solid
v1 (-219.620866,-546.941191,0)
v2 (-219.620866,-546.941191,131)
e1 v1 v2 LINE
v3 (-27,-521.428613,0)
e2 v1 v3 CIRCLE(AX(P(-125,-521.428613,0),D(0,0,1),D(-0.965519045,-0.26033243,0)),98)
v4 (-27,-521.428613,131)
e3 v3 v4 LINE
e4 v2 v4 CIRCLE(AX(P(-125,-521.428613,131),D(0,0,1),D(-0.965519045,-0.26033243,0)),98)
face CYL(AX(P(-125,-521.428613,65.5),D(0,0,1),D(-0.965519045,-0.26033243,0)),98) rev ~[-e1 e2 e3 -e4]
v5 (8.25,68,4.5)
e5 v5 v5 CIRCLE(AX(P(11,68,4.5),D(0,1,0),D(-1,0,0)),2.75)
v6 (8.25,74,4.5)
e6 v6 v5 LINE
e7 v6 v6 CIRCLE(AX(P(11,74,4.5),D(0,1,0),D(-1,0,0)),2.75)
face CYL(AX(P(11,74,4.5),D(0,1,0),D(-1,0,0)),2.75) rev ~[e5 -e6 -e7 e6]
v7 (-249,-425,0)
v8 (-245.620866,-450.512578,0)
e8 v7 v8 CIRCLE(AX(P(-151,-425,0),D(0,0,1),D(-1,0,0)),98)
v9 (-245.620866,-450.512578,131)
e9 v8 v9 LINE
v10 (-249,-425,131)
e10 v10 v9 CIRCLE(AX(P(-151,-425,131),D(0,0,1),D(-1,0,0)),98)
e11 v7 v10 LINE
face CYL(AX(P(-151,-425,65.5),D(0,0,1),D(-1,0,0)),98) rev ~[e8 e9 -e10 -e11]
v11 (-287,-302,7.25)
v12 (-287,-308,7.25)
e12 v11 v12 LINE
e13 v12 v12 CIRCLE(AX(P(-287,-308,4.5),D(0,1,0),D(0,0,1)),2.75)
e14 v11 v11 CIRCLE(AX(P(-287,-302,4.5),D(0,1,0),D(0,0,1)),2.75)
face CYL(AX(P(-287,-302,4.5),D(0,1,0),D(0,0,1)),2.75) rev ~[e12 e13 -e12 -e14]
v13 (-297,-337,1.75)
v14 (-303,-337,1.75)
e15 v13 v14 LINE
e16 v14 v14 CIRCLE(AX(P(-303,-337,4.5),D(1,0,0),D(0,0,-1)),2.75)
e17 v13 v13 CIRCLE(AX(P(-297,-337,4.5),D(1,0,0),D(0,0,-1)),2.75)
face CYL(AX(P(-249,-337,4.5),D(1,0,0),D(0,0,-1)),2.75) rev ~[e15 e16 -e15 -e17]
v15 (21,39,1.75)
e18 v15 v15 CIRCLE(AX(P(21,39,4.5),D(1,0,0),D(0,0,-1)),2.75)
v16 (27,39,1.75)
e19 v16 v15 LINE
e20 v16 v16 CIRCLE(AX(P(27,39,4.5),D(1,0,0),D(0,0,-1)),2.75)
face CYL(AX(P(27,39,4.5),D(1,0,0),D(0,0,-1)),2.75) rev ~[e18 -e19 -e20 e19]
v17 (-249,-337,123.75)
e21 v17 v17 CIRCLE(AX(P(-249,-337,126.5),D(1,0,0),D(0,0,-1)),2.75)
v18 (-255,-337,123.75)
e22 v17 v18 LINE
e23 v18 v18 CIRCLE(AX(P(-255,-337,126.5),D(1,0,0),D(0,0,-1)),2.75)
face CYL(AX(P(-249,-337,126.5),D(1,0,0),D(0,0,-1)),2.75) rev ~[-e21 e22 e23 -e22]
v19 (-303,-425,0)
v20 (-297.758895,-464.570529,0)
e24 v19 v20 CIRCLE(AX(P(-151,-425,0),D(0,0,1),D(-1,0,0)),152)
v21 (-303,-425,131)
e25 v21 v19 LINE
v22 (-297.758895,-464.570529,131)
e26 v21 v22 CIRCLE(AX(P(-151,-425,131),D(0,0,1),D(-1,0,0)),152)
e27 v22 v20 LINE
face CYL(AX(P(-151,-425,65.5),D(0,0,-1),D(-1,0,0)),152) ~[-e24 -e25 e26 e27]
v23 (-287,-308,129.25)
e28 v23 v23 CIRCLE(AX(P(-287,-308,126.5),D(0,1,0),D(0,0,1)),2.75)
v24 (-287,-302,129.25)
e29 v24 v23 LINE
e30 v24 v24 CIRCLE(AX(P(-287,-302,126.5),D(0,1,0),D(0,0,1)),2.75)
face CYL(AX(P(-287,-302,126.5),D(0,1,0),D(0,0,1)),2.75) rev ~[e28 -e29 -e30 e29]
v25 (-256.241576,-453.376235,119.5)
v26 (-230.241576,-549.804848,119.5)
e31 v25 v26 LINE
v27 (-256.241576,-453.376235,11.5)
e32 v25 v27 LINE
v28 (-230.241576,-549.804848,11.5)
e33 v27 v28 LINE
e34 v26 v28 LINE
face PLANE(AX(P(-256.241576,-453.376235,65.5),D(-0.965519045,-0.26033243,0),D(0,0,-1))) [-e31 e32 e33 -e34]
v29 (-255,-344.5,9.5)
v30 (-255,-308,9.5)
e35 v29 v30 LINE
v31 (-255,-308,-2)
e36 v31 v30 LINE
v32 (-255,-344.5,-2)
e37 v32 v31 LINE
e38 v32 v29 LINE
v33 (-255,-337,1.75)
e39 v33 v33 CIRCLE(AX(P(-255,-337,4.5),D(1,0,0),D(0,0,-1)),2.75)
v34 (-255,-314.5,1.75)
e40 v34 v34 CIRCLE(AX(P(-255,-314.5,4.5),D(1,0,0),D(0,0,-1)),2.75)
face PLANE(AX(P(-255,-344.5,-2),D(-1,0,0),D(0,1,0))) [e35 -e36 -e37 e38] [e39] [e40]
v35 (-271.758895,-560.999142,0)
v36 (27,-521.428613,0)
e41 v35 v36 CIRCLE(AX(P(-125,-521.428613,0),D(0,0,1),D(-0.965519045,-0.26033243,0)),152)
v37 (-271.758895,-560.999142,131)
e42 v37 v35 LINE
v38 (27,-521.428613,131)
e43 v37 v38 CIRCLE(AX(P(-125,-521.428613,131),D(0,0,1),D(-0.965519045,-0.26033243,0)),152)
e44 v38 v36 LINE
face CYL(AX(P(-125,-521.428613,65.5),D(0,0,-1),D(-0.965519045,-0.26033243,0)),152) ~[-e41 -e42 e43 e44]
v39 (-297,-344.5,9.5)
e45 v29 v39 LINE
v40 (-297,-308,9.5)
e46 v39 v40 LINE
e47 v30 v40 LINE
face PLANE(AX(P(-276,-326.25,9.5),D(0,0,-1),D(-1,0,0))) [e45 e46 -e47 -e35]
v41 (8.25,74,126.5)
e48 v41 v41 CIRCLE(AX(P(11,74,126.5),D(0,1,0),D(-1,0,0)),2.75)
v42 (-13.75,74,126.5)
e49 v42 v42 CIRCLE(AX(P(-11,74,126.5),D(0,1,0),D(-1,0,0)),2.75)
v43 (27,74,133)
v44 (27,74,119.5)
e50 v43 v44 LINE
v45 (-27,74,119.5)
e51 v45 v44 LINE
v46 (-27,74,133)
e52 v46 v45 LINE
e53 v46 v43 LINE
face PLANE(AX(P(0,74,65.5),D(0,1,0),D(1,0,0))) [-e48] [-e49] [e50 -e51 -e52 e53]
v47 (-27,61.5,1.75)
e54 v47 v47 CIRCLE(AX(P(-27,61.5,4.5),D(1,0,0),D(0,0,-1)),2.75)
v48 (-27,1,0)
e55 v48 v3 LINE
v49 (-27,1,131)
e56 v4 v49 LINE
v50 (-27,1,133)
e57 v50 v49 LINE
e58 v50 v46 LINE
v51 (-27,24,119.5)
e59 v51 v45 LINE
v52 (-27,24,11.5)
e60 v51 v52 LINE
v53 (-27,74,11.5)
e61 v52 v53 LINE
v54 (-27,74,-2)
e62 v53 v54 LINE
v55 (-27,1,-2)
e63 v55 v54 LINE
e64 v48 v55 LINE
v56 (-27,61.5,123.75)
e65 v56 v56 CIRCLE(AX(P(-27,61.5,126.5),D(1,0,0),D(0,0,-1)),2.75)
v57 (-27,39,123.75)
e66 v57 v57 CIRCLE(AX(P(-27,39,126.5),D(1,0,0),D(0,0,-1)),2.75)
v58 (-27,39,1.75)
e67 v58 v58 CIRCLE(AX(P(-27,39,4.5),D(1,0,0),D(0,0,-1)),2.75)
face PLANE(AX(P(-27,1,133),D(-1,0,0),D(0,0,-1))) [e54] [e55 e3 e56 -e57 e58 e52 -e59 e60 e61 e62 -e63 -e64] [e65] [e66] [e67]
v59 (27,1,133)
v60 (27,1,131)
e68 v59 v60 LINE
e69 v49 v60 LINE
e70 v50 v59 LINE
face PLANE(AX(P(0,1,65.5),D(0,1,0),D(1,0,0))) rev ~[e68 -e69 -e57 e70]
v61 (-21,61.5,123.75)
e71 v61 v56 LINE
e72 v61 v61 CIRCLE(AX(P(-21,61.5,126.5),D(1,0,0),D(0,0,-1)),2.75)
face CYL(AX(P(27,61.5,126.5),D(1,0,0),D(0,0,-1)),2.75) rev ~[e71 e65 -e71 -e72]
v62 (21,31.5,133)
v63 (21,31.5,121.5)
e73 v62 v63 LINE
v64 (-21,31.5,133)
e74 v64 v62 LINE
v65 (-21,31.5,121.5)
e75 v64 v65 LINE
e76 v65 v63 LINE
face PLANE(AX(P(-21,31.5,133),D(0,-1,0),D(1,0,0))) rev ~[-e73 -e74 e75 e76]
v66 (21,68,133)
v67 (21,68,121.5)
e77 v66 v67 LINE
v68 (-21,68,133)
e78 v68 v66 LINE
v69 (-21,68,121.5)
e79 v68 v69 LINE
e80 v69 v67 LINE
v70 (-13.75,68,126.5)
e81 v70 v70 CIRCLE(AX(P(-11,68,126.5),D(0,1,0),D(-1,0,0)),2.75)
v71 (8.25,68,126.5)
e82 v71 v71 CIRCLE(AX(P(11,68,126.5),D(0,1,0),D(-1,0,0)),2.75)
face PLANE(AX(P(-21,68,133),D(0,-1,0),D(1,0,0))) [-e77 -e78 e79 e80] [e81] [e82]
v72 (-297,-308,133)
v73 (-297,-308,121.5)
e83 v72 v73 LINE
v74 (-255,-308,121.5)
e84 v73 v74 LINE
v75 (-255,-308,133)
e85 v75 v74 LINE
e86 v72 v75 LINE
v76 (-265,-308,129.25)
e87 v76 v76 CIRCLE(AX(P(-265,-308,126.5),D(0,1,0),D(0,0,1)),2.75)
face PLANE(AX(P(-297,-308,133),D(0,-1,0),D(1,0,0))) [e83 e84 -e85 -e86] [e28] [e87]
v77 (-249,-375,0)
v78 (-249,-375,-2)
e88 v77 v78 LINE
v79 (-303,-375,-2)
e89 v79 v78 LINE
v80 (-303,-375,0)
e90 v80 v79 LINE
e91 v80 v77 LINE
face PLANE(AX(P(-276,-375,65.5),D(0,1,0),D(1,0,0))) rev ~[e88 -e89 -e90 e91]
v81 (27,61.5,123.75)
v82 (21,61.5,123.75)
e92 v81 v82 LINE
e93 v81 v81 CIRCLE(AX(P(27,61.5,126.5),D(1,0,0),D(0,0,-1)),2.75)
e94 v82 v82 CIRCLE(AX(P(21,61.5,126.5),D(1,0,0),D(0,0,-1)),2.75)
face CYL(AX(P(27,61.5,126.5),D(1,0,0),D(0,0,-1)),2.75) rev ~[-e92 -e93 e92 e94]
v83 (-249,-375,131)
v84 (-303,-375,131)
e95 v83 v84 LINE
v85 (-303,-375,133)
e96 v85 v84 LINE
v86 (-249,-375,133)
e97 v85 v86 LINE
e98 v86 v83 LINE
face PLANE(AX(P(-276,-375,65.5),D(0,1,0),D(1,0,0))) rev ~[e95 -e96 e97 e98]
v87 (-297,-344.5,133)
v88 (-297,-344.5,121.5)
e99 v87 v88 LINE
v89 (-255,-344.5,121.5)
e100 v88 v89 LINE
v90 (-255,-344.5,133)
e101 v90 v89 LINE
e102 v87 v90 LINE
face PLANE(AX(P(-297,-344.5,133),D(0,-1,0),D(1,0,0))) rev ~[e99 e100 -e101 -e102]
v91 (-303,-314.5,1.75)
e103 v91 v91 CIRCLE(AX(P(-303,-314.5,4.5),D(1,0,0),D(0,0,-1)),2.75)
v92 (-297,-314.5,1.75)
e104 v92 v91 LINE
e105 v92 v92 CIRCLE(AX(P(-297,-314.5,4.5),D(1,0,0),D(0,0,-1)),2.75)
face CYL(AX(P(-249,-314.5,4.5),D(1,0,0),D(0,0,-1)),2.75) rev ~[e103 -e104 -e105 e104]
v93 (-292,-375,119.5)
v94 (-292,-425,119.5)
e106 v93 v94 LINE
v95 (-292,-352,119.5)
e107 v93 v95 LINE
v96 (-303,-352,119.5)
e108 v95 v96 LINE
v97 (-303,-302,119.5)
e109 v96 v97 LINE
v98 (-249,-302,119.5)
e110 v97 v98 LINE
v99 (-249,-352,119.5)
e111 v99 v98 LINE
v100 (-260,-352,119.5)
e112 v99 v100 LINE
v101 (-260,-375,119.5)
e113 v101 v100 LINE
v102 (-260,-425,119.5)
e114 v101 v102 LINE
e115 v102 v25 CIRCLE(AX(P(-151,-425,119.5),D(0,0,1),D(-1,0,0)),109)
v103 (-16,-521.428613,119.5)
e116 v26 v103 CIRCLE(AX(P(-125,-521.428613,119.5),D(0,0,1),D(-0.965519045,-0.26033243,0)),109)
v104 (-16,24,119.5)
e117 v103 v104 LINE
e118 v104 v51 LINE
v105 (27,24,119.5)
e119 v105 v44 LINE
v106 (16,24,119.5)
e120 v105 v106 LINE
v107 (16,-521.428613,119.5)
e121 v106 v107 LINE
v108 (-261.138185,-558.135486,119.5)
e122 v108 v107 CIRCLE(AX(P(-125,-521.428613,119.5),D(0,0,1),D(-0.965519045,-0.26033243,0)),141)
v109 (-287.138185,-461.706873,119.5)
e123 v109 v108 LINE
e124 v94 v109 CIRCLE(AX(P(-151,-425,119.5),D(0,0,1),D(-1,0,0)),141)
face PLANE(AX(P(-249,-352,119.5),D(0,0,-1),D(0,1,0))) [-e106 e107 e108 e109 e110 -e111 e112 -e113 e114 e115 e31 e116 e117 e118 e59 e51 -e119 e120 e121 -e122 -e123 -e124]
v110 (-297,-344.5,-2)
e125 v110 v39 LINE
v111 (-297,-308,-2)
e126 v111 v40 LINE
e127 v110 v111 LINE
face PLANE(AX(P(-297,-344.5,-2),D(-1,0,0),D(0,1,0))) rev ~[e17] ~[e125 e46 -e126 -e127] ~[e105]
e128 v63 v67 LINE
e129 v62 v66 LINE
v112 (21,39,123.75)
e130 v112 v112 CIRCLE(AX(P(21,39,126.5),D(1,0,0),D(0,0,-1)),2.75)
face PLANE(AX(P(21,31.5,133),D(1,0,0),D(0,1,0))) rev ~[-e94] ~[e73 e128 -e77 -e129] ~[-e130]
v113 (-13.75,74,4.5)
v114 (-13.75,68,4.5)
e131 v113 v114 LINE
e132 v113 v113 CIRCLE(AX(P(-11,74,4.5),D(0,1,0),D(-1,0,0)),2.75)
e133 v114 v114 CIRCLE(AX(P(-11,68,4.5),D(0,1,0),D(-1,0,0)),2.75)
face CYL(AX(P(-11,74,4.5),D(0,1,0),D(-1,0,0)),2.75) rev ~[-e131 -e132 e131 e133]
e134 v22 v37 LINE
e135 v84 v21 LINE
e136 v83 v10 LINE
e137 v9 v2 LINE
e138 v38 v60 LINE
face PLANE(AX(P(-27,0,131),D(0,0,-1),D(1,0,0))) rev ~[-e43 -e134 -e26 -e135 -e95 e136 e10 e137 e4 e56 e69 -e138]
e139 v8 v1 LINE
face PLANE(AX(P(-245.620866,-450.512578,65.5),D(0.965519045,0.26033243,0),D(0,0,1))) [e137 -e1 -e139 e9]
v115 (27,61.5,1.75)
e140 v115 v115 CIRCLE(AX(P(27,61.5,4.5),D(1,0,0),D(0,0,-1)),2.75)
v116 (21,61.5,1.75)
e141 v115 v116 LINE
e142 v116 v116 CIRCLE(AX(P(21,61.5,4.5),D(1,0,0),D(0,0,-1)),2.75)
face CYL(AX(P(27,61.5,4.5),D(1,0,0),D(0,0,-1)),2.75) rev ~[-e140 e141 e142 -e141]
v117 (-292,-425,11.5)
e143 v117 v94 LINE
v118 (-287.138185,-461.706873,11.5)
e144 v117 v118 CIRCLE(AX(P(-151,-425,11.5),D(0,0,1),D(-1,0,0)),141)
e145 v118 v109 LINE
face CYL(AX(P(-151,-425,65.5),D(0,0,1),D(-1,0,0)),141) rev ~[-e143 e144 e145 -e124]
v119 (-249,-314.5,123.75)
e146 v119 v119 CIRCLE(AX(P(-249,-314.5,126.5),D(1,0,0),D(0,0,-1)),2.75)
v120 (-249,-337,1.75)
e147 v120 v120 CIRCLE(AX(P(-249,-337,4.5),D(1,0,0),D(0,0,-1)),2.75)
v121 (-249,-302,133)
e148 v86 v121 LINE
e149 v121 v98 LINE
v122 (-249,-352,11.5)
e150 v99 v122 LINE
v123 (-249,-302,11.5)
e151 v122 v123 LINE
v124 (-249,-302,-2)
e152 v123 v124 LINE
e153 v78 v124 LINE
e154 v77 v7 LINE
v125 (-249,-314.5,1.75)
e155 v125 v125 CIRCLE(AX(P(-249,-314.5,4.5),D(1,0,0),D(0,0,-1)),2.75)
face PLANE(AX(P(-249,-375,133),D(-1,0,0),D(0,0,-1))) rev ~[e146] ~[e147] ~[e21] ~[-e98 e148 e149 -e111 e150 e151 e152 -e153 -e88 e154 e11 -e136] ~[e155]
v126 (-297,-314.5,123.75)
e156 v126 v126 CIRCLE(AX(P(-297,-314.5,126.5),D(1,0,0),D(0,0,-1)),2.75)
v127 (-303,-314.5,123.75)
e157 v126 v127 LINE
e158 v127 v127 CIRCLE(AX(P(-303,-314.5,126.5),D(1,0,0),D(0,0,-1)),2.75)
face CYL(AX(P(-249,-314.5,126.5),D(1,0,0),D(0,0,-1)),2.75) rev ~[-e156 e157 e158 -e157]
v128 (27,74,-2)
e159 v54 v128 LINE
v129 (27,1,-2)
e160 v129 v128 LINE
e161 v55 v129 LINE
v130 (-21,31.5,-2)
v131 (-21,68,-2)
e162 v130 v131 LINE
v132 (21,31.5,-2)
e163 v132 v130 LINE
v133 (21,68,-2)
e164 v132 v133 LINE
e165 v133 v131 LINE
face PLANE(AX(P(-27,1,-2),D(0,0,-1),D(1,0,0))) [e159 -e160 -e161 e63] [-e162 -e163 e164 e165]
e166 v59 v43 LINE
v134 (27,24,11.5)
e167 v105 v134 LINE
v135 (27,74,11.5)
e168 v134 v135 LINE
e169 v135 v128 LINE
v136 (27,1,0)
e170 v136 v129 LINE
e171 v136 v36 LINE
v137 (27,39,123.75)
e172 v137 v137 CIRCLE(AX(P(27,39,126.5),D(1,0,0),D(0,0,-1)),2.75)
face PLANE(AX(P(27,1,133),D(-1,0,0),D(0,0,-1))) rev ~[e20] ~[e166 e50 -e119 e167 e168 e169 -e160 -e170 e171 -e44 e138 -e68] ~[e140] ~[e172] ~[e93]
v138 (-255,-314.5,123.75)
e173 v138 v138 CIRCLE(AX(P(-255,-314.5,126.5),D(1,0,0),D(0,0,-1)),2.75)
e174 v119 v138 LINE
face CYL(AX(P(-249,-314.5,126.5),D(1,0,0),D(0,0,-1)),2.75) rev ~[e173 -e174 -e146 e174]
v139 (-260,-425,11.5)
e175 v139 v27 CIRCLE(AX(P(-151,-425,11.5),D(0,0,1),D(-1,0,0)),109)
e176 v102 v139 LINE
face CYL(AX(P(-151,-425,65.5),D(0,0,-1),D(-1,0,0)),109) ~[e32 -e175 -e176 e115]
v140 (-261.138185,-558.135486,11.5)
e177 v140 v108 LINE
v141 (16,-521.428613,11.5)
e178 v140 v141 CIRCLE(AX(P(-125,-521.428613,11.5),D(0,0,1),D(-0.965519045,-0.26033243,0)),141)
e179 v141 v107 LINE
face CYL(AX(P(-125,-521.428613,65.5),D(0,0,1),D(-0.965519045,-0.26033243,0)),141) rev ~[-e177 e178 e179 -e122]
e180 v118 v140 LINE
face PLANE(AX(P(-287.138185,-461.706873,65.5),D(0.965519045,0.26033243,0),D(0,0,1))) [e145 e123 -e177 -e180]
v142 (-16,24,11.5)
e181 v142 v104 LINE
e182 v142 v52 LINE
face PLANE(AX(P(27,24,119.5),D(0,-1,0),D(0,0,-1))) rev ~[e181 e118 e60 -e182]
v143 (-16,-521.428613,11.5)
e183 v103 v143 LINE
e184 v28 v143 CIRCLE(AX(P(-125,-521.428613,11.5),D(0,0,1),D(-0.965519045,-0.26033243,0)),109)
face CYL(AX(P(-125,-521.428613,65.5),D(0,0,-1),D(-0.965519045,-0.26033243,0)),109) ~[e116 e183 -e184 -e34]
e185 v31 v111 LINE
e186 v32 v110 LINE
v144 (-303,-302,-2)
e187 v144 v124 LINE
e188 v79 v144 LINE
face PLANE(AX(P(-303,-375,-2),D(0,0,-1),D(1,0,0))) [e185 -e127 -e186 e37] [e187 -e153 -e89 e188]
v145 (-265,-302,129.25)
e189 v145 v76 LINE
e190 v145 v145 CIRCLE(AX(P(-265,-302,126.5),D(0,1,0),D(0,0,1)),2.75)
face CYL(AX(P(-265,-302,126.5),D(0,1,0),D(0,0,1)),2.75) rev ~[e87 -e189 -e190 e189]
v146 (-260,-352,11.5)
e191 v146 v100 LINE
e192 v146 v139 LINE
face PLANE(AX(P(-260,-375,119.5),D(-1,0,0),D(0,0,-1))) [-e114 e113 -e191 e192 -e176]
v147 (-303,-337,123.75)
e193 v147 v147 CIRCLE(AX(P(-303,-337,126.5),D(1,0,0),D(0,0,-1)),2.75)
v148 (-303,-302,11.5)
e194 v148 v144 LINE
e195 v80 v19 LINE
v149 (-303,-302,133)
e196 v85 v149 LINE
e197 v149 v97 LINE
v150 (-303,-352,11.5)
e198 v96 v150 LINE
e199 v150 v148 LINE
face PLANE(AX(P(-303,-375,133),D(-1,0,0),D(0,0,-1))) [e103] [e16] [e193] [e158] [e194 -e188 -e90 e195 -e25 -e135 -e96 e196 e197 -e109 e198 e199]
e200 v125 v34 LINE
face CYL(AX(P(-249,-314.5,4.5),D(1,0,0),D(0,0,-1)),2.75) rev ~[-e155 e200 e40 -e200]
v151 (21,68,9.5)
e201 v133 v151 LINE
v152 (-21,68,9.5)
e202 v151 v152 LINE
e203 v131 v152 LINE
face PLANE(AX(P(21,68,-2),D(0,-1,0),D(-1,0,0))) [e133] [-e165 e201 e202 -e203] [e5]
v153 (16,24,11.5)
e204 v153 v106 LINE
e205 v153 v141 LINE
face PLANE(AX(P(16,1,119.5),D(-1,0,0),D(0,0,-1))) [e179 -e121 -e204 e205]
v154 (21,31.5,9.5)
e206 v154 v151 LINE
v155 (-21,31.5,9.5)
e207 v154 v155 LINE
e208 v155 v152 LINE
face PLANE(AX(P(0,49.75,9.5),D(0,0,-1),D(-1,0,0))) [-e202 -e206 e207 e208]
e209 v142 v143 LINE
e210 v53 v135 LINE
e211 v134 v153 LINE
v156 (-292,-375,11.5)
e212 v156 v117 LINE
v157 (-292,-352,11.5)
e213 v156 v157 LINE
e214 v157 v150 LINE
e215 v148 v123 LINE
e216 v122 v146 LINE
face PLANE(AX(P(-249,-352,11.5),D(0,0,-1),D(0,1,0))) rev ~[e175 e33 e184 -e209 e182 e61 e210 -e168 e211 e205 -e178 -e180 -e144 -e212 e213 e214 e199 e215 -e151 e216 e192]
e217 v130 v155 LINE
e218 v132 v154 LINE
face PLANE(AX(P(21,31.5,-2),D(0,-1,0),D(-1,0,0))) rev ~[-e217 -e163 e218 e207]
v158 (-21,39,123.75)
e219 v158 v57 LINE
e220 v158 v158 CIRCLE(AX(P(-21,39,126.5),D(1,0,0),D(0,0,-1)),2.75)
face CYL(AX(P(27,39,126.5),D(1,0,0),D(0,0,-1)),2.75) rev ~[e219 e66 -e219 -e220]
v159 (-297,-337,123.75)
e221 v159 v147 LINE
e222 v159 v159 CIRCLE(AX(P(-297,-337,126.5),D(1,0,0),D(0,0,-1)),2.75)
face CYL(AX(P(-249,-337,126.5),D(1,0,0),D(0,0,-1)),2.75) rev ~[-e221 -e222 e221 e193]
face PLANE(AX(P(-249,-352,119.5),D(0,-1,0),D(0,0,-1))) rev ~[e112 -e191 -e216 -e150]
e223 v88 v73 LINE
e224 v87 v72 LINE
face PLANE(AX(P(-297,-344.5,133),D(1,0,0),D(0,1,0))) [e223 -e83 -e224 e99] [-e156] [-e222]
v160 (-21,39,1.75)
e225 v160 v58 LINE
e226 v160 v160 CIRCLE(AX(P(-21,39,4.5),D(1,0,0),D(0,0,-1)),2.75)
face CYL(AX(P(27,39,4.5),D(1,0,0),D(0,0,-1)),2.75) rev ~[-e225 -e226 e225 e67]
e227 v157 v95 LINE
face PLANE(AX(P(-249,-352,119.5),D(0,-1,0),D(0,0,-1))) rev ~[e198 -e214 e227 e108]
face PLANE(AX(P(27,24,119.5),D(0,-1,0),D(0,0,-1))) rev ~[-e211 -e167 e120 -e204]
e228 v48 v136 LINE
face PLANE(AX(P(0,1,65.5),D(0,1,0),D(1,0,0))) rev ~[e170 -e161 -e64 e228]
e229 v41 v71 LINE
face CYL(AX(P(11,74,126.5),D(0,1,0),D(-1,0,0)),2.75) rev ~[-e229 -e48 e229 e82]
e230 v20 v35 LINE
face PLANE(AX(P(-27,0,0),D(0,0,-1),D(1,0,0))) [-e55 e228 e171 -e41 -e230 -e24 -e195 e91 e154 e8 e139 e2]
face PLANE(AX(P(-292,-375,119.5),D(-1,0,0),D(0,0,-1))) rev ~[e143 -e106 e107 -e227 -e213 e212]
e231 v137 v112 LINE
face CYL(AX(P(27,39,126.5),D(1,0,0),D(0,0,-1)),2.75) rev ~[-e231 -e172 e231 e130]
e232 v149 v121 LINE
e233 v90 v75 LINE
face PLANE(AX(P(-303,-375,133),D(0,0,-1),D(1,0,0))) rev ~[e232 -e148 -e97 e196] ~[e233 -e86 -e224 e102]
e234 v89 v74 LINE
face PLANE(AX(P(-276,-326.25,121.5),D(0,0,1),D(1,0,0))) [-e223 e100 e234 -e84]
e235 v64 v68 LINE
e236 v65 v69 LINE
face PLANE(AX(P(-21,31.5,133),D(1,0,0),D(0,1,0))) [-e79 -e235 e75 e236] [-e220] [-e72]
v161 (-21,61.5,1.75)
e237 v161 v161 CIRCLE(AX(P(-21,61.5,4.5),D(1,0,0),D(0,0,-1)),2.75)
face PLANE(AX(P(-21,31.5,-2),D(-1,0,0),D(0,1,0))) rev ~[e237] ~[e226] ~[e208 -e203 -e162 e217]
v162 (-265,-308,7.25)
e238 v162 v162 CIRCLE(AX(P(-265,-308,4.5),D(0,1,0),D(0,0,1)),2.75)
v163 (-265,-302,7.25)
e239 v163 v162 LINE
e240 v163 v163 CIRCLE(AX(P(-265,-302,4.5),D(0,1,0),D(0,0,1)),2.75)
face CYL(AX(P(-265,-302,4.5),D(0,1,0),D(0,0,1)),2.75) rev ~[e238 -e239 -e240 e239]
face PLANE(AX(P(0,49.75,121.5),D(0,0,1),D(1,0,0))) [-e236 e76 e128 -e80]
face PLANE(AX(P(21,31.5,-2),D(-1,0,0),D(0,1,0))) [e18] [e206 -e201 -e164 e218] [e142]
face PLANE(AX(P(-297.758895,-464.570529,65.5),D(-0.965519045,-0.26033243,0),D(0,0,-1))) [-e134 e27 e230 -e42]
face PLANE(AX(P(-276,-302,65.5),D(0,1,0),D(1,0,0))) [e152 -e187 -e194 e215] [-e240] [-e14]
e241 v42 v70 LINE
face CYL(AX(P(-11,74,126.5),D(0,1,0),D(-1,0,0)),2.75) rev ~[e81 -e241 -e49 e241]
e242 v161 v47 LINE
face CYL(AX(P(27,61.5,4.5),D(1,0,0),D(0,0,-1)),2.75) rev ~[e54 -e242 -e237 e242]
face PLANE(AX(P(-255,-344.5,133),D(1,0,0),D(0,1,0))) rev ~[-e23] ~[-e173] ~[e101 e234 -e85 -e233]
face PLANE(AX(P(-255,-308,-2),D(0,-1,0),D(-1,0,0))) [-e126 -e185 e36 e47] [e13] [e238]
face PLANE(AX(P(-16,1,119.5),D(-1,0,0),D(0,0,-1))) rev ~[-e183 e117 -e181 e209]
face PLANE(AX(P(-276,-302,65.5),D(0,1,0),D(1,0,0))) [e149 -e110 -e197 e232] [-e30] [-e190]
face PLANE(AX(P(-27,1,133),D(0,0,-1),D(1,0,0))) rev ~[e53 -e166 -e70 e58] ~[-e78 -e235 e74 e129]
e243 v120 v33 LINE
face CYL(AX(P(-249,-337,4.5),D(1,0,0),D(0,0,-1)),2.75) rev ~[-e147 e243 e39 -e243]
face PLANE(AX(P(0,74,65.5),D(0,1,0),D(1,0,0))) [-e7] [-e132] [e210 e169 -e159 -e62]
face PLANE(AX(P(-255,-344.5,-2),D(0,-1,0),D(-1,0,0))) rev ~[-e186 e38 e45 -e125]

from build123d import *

# Parameters (mm, degrees)
SKETCH2_W           = 54
SKETCH2_H           = 131
SKETCH2_W_2         = 32
SKETCH2_H_2         = 108
SKETCH12_W          = 54
SKETCH12_H          = 131
SKETCH12_W_2        = 32
SKETCH12_H_2        = 108
BOSS_EXTRUDE1_DEPTH = 1
SKETCH3_W           = 54
SKETCH3_H           = 135
SKETCH3_W_2         = 32
SKETCH3_H_2         = 108
EXTRUDE1_DEPTH      = 73
EXTRUDE2_REACH      = 763.64
SKETCH4_R           = 2.75
SKETCH4_W           = 108
SKETCH4_H           = 50
SKETCH7_W           = 54
SKETCH7_H           = 135
SKETCH7_W_2         = 32
SKETCH7_H_2         = 108
EXTRUDE5_DEPTH      = 73
EXTRUDE6_REACH      = 741.845
SKETCH8_R           = 2.75
SKETCH8_W           = 108
SKETCH8_H           = 50
SKETCH5_W           = 42
SKETCH5_H           = 36.5
EXTRUDE3_DEPTH      = 11.5
SKETCH6_W           = 42
SKETCH6_H           = 36.5
EXTRUDE4_DEPTH      = 11.5
SKETCH9_R           = 2.75
EXTRUDE7_DEPTH      = 7
SKETCH10_R          = 2.75
EXTRUDE8_DEPTH      = 7


with BuildPart() as part:
    # Sweep1: sweep along a path in Sketch1
    with BuildLine(Plane.XY) as sweep1_path:
        Line((-276, -375), (-276, -425))
        ThreePointArc((-276, -425), (-274.917785393, -441.412874927), (-271.689880586, -457.541553807))
        Line((-271.689880586, -457.541553807), (-245.689880586, -553.970166708))
        ThreePointArc((-245.689880586, -553.970166708), (-108.587125073, -645.346398294), (0, -521.428612901))
        Line((0, -521.428612901), (0, 0))
    # Sketch2 → Sweep1 (sweep)
    with BuildSketch(Plane(origin=(0, 0, 0), x_dir=(1, 0, 0), z_dir=(0, 1, 0))):
        with Locations((0, -65.5)):
            Rectangle(SKETCH2_W, SKETCH2_H)
        with Locations((0, -65.5)):
            Rectangle(SKETCH2_W_2, SKETCH2_H_2, mode=Mode.SUBTRACT)
    sweep(path=sweep1_path.line)

    # Sketch12 → Boss-Extrude1 (add)
    with BuildSketch(Plane(origin=(0, 0, 0), x_dir=(1, 0, 0), z_dir=(0, 1, 0))):
        with Locations((0, -65.5)):
            Rectangle(SKETCH12_W, SKETCH12_H)
        with Locations((0, -65.5)):
            Rectangle(SKETCH12_W_2, SKETCH12_H_2, mode=Mode.SUBTRACT)
    extrude(amount=BOSS_EXTRUDE1_DEPTH)

    # Sketch3 → Extrude1 (add)
    with BuildSketch(Plane(origin=(0, 1, 0), x_dir=(1, 0, 0), z_dir=(0, 1, 0))):
        with Locations((0, -65.5)):
            Rectangle(SKETCH3_W, SKETCH3_H)
        with Locations((0, -65.5)):
            Rectangle(SKETCH3_W_2, SKETCH3_H_2, mode=Mode.SUBTRACT)
    extrude(amount=EXTRUDE1_DEPTH)

    # Extrude2: up to this face of the body (flat: up to its plane)
    extrude2_end = Plane(part.part.faces().sort_by_distance((-27, -222.740088666, 65.5))[0])
    # Sketch4 → Extrude2 (cut, up to the picked face)
    with BuildSketch(Plane(origin=(27, 0, 0), x_dir=(0, 0, -1), z_dir=(1, 0, 0)), mode=Mode.PRIVATE) as extrude2_sk1:
        with Locations((-126.5, 61.5)):
            Circle(SKETCH4_R)
    extrude2_tool1 = split(extrude(extrude2_sk1.sketch, amount=-EXTRUDE2_REACH, mode=Mode.PRIVATE), bisect_by=extrude2_end, keep=Keep.BOTH, mode=Mode.PRIVATE)
    # Sketch4 → Extrude2 (cut, up to the picked face)
    with BuildSketch(Plane(origin=(27, 0, 0), x_dir=(0, 0, -1), z_dir=(1, 0, 0)), mode=Mode.PRIVATE) as extrude2_sk2:
        with Locations((-126.5, 39)):
            Circle(SKETCH4_R)
    extrude2_tool2 = split(extrude(extrude2_sk2.sketch, amount=-EXTRUDE2_REACH, mode=Mode.PRIVATE), bisect_by=extrude2_end, keep=Keep.BOTH, mode=Mode.PRIVATE)
    # Sketch4 → Extrude2 (cut, up to the picked face)
    with BuildSketch(Plane(origin=(27, 0, 0), x_dir=(0, 0, -1), z_dir=(1, 0, 0)), mode=Mode.PRIVATE) as extrude2_sk3:
        with Locations((-4.5, 39)):
            Circle(SKETCH4_R)
    extrude2_tool3 = split(extrude(extrude2_sk3.sketch, amount=-EXTRUDE2_REACH, mode=Mode.PRIVATE), bisect_by=extrude2_end, keep=Keep.BOTH, mode=Mode.PRIVATE)
    # Sketch4 → Extrude2 (cut, up to the picked face)
    with BuildSketch(Plane(origin=(27, 0, 0), x_dir=(0, 0, -1), z_dir=(1, 0, 0)), mode=Mode.PRIVATE) as extrude2_sk4:
        with Locations((-4.5, 61.5)):
            Circle(SKETCH4_R)
    extrude2_tool4 = split(extrude(extrude2_sk4.sketch, amount=-EXTRUDE2_REACH, mode=Mode.PRIVATE), bisect_by=extrude2_end, keep=Keep.BOTH, mode=Mode.PRIVATE)
    # Sketch4 → Extrude2 (cut, up to the picked face)
    with BuildSketch(Plane(origin=(27, 0, 0), x_dir=(0, 0, -1), z_dir=(1, 0, 0)), mode=Mode.PRIVATE) as extrude2_sk5:
        with Locations((-65.5, 49)):
            Rectangle(SKETCH4_W, SKETCH4_H)
    extrude2_tool5 = split(extrude(extrude2_sk5.sketch, amount=-EXTRUDE2_REACH, mode=Mode.PRIVATE), bisect_by=extrude2_end, keep=Keep.BOTH, mode=Mode.PRIVATE)
    add(extrude2_tool1.solids().sort_by(Axis((27, 61.5, 126.5), (-1, 0, 0)))[0], mode=Mode.SUBTRACT)
    add(extrude2_tool2.solids().sort_by(Axis((27, 39, 126.5), (-1, 0, 0)))[0], mode=Mode.SUBTRACT)
    add(extrude2_tool3.solids().sort_by(Axis((27, 39, 4.5), (-1, 0, 0)))[0], mode=Mode.SUBTRACT)
    add(extrude2_tool4.solids().sort_by(Axis((27, 61.5, 4.5), (-1, 0, 0)))[0], mode=Mode.SUBTRACT)
    add(extrude2_tool5.solids().sort_by(Axis((27, 49, 65.5), (-1, 0, 0)))[0], mode=Mode.SUBTRACT)

    # Sketch7 → Extrude5 (add)
    with BuildSketch(Plane(origin=(0, -375, 0), x_dir=(1, 0, 0), z_dir=(0, 1, 0))):
        with Locations((-276, -65.5)):
            Rectangle(SKETCH7_W, SKETCH7_H)
        with Locations((-276, -65.5)):
            Rectangle(SKETCH7_W_2, SKETCH7_H_2, mode=Mode.SUBTRACT)
    extrude(amount=EXTRUDE5_DEPTH)

    # Extrude6: up to this face of the body (flat: up to its plane)
    extrude6_end = Plane(part.part.faces().sort_by_distance((-303, -363.055013715, 65.5))[0])
    # Sketch8 → Extrude6 (cut, up to the picked face)
    with BuildSketch(Plane(origin=(-249, 0, 0), x_dir=(0, 0, -1), z_dir=(1, 0, 0)), mode=Mode.PRIVATE) as extrude6_sk1:
        with Locations((-4.5, -337)):
            Circle(SKETCH8_R)
    extrude6_tool1 = split(extrude(extrude6_sk1.sketch, amount=-EXTRUDE6_REACH, mode=Mode.PRIVATE), bisect_by=extrude6_end, keep=Keep.BOTH, mode=Mode.PRIVATE)
    # Sketch8 → Extrude6 (cut, up to the picked face)
    with BuildSketch(Plane(origin=(-249, 0, 0), x_dir=(0, 0, -1), z_dir=(1, 0, 0)), mode=Mode.PRIVATE) as extrude6_sk2:
        with Locations((-4.5, -314.5)):
            Circle(SKETCH8_R)
    extrude6_tool2 = split(extrude(extrude6_sk2.sketch, amount=-EXTRUDE6_REACH, mode=Mode.PRIVATE), bisect_by=extrude6_end, keep=Keep.BOTH, mode=Mode.PRIVATE)
    # Sketch8 → Extrude6 (cut, up to the picked face)
    with BuildSketch(Plane(origin=(-249, 0, 0), x_dir=(0, 0, -1), z_dir=(1, 0, 0)), mode=Mode.PRIVATE) as extrude6_sk3:
        with Locations((-126.5, -337)):
            Circle(SKETCH8_R)
    extrude6_tool3 = split(extrude(extrude6_sk3.sketch, amount=-EXTRUDE6_REACH, mode=Mode.PRIVATE), bisect_by=extrude6_end, keep=Keep.BOTH, mode=Mode.PRIVATE)
    # Sketch8 → Extrude6 (cut, up to the picked face)
    with BuildSketch(Plane(origin=(-249, 0, 0), x_dir=(0, 0, -1), z_dir=(1, 0, 0)), mode=Mode.PRIVATE) as extrude6_sk4:
        with Locations((-126.5, -314.5)):
            Circle(SKETCH8_R)
    extrude6_tool4 = split(extrude(extrude6_sk4.sketch, amount=-EXTRUDE6_REACH, mode=Mode.PRIVATE), bisect_by=extrude6_end, keep=Keep.BOTH, mode=Mode.PRIVATE)
    # Sketch8 → Extrude6 (cut, up to the picked face)
    with BuildSketch(Plane(origin=(-249, 0, 0), x_dir=(0, 0, -1), z_dir=(1, 0, 0)), mode=Mode.PRIVATE) as extrude6_sk5:
        with Locations((-65.5, -327)):
            Rectangle(SKETCH8_W, SKETCH8_H)
    extrude6_tool5 = split(extrude(extrude6_sk5.sketch, amount=-EXTRUDE6_REACH, mode=Mode.PRIVATE), bisect_by=extrude6_end, keep=Keep.BOTH, mode=Mode.PRIVATE)
    add(extrude6_tool1.solids().sort_by(Axis((-249, -337, 4.5), (-1, 0, 0)))[0], mode=Mode.SUBTRACT)
    add(extrude6_tool2.solids().sort_by(Axis((-249, -314.5, 4.5), (-1, 0, 0)))[0], mode=Mode.SUBTRACT)
    add(extrude6_tool3.solids().sort_by(Axis((-249, -337, 126.5), (-1, 0, 0)))[0], mode=Mode.SUBTRACT)
    add(extrude6_tool4.solids().sort_by(Axis((-249, -314.5, 126.5), (-1, 0, 0)))[0], mode=Mode.SUBTRACT)
    add(extrude6_tool5.solids().sort_by(Axis((-249, -327, 65.5), (-1, 0, 0)))[0], mode=Mode.SUBTRACT)

    # Sketch5 → Extrude3 (cut)
    with BuildSketch(Plane.XY.offset(133)):
        with Locations((0, 49.75)):
            Rectangle(SKETCH5_W, SKETCH5_H)
        with Locations((-276, -326.25)):
            Rectangle(SKETCH5_W, SKETCH5_H)
    extrude(amount=-EXTRUDE3_DEPTH, mode=Mode.SUBTRACT)

    # Sketch6 → Extrude4 (cut)
    with BuildSketch(Plane(origin=(0, 0, -2), x_dir=(-1, 0, 0), z_dir=(0, 0, -1))):
        with Locations((0, 49.75)):
            Rectangle(SKETCH6_W, SKETCH6_H)
        with Locations((276, -326.25)):
            Rectangle(SKETCH6_W, SKETCH6_H)
    extrude(amount=-EXTRUDE4_DEPTH, mode=Mode.SUBTRACT)

    # Sketch9 → Extrude7 (cut)
    with BuildSketch(Plane(origin=(0, 74, 0), x_dir=(1, 0, 0), z_dir=(0, 1, 0))):
        with Locations(Location((-11, -126.5, 0), (0, 0, 180))):
            Circle(SKETCH9_R)
        with Locations(Location((11, -126.5, 0), (0, 0, 180))):
            Circle(SKETCH9_R)
        with Locations(Location((11, -4.5, 0), (0, 0, 180))):
            Circle(SKETCH9_R)
        with Locations(Location((-11, -4.5, 0), (0, 0, 180))):
            Circle(SKETCH9_R)
    extrude(amount=-EXTRUDE7_DEPTH, mode=Mode.SUBTRACT)

    # Sketch10 → Extrude8 (cut)
    with BuildSketch(Plane(origin=(0, -302, 0), x_dir=(1, 0, 0), z_dir=(0, 1, 0))):
        with Locations(Location((-287, -126.5, 0), (0, 0, 270))):
            Circle(SKETCH10_R)
        with Locations(Location((-265, -126.5, 0), (0, 0, 270))):
            Circle(SKETCH10_R)
        with Locations(Location((-287, -4.5, 0), (0, 0, 270))):
            Circle(SKETCH10_R)
        with Locations(Location((-265, -4.5, 0), (0, 0, 270))):
            Circle(SKETCH10_R)
    extrude(amount=-EXTRUDE8_DEPTH, mode=Mode.SUBTRACT)


solid = part.part
